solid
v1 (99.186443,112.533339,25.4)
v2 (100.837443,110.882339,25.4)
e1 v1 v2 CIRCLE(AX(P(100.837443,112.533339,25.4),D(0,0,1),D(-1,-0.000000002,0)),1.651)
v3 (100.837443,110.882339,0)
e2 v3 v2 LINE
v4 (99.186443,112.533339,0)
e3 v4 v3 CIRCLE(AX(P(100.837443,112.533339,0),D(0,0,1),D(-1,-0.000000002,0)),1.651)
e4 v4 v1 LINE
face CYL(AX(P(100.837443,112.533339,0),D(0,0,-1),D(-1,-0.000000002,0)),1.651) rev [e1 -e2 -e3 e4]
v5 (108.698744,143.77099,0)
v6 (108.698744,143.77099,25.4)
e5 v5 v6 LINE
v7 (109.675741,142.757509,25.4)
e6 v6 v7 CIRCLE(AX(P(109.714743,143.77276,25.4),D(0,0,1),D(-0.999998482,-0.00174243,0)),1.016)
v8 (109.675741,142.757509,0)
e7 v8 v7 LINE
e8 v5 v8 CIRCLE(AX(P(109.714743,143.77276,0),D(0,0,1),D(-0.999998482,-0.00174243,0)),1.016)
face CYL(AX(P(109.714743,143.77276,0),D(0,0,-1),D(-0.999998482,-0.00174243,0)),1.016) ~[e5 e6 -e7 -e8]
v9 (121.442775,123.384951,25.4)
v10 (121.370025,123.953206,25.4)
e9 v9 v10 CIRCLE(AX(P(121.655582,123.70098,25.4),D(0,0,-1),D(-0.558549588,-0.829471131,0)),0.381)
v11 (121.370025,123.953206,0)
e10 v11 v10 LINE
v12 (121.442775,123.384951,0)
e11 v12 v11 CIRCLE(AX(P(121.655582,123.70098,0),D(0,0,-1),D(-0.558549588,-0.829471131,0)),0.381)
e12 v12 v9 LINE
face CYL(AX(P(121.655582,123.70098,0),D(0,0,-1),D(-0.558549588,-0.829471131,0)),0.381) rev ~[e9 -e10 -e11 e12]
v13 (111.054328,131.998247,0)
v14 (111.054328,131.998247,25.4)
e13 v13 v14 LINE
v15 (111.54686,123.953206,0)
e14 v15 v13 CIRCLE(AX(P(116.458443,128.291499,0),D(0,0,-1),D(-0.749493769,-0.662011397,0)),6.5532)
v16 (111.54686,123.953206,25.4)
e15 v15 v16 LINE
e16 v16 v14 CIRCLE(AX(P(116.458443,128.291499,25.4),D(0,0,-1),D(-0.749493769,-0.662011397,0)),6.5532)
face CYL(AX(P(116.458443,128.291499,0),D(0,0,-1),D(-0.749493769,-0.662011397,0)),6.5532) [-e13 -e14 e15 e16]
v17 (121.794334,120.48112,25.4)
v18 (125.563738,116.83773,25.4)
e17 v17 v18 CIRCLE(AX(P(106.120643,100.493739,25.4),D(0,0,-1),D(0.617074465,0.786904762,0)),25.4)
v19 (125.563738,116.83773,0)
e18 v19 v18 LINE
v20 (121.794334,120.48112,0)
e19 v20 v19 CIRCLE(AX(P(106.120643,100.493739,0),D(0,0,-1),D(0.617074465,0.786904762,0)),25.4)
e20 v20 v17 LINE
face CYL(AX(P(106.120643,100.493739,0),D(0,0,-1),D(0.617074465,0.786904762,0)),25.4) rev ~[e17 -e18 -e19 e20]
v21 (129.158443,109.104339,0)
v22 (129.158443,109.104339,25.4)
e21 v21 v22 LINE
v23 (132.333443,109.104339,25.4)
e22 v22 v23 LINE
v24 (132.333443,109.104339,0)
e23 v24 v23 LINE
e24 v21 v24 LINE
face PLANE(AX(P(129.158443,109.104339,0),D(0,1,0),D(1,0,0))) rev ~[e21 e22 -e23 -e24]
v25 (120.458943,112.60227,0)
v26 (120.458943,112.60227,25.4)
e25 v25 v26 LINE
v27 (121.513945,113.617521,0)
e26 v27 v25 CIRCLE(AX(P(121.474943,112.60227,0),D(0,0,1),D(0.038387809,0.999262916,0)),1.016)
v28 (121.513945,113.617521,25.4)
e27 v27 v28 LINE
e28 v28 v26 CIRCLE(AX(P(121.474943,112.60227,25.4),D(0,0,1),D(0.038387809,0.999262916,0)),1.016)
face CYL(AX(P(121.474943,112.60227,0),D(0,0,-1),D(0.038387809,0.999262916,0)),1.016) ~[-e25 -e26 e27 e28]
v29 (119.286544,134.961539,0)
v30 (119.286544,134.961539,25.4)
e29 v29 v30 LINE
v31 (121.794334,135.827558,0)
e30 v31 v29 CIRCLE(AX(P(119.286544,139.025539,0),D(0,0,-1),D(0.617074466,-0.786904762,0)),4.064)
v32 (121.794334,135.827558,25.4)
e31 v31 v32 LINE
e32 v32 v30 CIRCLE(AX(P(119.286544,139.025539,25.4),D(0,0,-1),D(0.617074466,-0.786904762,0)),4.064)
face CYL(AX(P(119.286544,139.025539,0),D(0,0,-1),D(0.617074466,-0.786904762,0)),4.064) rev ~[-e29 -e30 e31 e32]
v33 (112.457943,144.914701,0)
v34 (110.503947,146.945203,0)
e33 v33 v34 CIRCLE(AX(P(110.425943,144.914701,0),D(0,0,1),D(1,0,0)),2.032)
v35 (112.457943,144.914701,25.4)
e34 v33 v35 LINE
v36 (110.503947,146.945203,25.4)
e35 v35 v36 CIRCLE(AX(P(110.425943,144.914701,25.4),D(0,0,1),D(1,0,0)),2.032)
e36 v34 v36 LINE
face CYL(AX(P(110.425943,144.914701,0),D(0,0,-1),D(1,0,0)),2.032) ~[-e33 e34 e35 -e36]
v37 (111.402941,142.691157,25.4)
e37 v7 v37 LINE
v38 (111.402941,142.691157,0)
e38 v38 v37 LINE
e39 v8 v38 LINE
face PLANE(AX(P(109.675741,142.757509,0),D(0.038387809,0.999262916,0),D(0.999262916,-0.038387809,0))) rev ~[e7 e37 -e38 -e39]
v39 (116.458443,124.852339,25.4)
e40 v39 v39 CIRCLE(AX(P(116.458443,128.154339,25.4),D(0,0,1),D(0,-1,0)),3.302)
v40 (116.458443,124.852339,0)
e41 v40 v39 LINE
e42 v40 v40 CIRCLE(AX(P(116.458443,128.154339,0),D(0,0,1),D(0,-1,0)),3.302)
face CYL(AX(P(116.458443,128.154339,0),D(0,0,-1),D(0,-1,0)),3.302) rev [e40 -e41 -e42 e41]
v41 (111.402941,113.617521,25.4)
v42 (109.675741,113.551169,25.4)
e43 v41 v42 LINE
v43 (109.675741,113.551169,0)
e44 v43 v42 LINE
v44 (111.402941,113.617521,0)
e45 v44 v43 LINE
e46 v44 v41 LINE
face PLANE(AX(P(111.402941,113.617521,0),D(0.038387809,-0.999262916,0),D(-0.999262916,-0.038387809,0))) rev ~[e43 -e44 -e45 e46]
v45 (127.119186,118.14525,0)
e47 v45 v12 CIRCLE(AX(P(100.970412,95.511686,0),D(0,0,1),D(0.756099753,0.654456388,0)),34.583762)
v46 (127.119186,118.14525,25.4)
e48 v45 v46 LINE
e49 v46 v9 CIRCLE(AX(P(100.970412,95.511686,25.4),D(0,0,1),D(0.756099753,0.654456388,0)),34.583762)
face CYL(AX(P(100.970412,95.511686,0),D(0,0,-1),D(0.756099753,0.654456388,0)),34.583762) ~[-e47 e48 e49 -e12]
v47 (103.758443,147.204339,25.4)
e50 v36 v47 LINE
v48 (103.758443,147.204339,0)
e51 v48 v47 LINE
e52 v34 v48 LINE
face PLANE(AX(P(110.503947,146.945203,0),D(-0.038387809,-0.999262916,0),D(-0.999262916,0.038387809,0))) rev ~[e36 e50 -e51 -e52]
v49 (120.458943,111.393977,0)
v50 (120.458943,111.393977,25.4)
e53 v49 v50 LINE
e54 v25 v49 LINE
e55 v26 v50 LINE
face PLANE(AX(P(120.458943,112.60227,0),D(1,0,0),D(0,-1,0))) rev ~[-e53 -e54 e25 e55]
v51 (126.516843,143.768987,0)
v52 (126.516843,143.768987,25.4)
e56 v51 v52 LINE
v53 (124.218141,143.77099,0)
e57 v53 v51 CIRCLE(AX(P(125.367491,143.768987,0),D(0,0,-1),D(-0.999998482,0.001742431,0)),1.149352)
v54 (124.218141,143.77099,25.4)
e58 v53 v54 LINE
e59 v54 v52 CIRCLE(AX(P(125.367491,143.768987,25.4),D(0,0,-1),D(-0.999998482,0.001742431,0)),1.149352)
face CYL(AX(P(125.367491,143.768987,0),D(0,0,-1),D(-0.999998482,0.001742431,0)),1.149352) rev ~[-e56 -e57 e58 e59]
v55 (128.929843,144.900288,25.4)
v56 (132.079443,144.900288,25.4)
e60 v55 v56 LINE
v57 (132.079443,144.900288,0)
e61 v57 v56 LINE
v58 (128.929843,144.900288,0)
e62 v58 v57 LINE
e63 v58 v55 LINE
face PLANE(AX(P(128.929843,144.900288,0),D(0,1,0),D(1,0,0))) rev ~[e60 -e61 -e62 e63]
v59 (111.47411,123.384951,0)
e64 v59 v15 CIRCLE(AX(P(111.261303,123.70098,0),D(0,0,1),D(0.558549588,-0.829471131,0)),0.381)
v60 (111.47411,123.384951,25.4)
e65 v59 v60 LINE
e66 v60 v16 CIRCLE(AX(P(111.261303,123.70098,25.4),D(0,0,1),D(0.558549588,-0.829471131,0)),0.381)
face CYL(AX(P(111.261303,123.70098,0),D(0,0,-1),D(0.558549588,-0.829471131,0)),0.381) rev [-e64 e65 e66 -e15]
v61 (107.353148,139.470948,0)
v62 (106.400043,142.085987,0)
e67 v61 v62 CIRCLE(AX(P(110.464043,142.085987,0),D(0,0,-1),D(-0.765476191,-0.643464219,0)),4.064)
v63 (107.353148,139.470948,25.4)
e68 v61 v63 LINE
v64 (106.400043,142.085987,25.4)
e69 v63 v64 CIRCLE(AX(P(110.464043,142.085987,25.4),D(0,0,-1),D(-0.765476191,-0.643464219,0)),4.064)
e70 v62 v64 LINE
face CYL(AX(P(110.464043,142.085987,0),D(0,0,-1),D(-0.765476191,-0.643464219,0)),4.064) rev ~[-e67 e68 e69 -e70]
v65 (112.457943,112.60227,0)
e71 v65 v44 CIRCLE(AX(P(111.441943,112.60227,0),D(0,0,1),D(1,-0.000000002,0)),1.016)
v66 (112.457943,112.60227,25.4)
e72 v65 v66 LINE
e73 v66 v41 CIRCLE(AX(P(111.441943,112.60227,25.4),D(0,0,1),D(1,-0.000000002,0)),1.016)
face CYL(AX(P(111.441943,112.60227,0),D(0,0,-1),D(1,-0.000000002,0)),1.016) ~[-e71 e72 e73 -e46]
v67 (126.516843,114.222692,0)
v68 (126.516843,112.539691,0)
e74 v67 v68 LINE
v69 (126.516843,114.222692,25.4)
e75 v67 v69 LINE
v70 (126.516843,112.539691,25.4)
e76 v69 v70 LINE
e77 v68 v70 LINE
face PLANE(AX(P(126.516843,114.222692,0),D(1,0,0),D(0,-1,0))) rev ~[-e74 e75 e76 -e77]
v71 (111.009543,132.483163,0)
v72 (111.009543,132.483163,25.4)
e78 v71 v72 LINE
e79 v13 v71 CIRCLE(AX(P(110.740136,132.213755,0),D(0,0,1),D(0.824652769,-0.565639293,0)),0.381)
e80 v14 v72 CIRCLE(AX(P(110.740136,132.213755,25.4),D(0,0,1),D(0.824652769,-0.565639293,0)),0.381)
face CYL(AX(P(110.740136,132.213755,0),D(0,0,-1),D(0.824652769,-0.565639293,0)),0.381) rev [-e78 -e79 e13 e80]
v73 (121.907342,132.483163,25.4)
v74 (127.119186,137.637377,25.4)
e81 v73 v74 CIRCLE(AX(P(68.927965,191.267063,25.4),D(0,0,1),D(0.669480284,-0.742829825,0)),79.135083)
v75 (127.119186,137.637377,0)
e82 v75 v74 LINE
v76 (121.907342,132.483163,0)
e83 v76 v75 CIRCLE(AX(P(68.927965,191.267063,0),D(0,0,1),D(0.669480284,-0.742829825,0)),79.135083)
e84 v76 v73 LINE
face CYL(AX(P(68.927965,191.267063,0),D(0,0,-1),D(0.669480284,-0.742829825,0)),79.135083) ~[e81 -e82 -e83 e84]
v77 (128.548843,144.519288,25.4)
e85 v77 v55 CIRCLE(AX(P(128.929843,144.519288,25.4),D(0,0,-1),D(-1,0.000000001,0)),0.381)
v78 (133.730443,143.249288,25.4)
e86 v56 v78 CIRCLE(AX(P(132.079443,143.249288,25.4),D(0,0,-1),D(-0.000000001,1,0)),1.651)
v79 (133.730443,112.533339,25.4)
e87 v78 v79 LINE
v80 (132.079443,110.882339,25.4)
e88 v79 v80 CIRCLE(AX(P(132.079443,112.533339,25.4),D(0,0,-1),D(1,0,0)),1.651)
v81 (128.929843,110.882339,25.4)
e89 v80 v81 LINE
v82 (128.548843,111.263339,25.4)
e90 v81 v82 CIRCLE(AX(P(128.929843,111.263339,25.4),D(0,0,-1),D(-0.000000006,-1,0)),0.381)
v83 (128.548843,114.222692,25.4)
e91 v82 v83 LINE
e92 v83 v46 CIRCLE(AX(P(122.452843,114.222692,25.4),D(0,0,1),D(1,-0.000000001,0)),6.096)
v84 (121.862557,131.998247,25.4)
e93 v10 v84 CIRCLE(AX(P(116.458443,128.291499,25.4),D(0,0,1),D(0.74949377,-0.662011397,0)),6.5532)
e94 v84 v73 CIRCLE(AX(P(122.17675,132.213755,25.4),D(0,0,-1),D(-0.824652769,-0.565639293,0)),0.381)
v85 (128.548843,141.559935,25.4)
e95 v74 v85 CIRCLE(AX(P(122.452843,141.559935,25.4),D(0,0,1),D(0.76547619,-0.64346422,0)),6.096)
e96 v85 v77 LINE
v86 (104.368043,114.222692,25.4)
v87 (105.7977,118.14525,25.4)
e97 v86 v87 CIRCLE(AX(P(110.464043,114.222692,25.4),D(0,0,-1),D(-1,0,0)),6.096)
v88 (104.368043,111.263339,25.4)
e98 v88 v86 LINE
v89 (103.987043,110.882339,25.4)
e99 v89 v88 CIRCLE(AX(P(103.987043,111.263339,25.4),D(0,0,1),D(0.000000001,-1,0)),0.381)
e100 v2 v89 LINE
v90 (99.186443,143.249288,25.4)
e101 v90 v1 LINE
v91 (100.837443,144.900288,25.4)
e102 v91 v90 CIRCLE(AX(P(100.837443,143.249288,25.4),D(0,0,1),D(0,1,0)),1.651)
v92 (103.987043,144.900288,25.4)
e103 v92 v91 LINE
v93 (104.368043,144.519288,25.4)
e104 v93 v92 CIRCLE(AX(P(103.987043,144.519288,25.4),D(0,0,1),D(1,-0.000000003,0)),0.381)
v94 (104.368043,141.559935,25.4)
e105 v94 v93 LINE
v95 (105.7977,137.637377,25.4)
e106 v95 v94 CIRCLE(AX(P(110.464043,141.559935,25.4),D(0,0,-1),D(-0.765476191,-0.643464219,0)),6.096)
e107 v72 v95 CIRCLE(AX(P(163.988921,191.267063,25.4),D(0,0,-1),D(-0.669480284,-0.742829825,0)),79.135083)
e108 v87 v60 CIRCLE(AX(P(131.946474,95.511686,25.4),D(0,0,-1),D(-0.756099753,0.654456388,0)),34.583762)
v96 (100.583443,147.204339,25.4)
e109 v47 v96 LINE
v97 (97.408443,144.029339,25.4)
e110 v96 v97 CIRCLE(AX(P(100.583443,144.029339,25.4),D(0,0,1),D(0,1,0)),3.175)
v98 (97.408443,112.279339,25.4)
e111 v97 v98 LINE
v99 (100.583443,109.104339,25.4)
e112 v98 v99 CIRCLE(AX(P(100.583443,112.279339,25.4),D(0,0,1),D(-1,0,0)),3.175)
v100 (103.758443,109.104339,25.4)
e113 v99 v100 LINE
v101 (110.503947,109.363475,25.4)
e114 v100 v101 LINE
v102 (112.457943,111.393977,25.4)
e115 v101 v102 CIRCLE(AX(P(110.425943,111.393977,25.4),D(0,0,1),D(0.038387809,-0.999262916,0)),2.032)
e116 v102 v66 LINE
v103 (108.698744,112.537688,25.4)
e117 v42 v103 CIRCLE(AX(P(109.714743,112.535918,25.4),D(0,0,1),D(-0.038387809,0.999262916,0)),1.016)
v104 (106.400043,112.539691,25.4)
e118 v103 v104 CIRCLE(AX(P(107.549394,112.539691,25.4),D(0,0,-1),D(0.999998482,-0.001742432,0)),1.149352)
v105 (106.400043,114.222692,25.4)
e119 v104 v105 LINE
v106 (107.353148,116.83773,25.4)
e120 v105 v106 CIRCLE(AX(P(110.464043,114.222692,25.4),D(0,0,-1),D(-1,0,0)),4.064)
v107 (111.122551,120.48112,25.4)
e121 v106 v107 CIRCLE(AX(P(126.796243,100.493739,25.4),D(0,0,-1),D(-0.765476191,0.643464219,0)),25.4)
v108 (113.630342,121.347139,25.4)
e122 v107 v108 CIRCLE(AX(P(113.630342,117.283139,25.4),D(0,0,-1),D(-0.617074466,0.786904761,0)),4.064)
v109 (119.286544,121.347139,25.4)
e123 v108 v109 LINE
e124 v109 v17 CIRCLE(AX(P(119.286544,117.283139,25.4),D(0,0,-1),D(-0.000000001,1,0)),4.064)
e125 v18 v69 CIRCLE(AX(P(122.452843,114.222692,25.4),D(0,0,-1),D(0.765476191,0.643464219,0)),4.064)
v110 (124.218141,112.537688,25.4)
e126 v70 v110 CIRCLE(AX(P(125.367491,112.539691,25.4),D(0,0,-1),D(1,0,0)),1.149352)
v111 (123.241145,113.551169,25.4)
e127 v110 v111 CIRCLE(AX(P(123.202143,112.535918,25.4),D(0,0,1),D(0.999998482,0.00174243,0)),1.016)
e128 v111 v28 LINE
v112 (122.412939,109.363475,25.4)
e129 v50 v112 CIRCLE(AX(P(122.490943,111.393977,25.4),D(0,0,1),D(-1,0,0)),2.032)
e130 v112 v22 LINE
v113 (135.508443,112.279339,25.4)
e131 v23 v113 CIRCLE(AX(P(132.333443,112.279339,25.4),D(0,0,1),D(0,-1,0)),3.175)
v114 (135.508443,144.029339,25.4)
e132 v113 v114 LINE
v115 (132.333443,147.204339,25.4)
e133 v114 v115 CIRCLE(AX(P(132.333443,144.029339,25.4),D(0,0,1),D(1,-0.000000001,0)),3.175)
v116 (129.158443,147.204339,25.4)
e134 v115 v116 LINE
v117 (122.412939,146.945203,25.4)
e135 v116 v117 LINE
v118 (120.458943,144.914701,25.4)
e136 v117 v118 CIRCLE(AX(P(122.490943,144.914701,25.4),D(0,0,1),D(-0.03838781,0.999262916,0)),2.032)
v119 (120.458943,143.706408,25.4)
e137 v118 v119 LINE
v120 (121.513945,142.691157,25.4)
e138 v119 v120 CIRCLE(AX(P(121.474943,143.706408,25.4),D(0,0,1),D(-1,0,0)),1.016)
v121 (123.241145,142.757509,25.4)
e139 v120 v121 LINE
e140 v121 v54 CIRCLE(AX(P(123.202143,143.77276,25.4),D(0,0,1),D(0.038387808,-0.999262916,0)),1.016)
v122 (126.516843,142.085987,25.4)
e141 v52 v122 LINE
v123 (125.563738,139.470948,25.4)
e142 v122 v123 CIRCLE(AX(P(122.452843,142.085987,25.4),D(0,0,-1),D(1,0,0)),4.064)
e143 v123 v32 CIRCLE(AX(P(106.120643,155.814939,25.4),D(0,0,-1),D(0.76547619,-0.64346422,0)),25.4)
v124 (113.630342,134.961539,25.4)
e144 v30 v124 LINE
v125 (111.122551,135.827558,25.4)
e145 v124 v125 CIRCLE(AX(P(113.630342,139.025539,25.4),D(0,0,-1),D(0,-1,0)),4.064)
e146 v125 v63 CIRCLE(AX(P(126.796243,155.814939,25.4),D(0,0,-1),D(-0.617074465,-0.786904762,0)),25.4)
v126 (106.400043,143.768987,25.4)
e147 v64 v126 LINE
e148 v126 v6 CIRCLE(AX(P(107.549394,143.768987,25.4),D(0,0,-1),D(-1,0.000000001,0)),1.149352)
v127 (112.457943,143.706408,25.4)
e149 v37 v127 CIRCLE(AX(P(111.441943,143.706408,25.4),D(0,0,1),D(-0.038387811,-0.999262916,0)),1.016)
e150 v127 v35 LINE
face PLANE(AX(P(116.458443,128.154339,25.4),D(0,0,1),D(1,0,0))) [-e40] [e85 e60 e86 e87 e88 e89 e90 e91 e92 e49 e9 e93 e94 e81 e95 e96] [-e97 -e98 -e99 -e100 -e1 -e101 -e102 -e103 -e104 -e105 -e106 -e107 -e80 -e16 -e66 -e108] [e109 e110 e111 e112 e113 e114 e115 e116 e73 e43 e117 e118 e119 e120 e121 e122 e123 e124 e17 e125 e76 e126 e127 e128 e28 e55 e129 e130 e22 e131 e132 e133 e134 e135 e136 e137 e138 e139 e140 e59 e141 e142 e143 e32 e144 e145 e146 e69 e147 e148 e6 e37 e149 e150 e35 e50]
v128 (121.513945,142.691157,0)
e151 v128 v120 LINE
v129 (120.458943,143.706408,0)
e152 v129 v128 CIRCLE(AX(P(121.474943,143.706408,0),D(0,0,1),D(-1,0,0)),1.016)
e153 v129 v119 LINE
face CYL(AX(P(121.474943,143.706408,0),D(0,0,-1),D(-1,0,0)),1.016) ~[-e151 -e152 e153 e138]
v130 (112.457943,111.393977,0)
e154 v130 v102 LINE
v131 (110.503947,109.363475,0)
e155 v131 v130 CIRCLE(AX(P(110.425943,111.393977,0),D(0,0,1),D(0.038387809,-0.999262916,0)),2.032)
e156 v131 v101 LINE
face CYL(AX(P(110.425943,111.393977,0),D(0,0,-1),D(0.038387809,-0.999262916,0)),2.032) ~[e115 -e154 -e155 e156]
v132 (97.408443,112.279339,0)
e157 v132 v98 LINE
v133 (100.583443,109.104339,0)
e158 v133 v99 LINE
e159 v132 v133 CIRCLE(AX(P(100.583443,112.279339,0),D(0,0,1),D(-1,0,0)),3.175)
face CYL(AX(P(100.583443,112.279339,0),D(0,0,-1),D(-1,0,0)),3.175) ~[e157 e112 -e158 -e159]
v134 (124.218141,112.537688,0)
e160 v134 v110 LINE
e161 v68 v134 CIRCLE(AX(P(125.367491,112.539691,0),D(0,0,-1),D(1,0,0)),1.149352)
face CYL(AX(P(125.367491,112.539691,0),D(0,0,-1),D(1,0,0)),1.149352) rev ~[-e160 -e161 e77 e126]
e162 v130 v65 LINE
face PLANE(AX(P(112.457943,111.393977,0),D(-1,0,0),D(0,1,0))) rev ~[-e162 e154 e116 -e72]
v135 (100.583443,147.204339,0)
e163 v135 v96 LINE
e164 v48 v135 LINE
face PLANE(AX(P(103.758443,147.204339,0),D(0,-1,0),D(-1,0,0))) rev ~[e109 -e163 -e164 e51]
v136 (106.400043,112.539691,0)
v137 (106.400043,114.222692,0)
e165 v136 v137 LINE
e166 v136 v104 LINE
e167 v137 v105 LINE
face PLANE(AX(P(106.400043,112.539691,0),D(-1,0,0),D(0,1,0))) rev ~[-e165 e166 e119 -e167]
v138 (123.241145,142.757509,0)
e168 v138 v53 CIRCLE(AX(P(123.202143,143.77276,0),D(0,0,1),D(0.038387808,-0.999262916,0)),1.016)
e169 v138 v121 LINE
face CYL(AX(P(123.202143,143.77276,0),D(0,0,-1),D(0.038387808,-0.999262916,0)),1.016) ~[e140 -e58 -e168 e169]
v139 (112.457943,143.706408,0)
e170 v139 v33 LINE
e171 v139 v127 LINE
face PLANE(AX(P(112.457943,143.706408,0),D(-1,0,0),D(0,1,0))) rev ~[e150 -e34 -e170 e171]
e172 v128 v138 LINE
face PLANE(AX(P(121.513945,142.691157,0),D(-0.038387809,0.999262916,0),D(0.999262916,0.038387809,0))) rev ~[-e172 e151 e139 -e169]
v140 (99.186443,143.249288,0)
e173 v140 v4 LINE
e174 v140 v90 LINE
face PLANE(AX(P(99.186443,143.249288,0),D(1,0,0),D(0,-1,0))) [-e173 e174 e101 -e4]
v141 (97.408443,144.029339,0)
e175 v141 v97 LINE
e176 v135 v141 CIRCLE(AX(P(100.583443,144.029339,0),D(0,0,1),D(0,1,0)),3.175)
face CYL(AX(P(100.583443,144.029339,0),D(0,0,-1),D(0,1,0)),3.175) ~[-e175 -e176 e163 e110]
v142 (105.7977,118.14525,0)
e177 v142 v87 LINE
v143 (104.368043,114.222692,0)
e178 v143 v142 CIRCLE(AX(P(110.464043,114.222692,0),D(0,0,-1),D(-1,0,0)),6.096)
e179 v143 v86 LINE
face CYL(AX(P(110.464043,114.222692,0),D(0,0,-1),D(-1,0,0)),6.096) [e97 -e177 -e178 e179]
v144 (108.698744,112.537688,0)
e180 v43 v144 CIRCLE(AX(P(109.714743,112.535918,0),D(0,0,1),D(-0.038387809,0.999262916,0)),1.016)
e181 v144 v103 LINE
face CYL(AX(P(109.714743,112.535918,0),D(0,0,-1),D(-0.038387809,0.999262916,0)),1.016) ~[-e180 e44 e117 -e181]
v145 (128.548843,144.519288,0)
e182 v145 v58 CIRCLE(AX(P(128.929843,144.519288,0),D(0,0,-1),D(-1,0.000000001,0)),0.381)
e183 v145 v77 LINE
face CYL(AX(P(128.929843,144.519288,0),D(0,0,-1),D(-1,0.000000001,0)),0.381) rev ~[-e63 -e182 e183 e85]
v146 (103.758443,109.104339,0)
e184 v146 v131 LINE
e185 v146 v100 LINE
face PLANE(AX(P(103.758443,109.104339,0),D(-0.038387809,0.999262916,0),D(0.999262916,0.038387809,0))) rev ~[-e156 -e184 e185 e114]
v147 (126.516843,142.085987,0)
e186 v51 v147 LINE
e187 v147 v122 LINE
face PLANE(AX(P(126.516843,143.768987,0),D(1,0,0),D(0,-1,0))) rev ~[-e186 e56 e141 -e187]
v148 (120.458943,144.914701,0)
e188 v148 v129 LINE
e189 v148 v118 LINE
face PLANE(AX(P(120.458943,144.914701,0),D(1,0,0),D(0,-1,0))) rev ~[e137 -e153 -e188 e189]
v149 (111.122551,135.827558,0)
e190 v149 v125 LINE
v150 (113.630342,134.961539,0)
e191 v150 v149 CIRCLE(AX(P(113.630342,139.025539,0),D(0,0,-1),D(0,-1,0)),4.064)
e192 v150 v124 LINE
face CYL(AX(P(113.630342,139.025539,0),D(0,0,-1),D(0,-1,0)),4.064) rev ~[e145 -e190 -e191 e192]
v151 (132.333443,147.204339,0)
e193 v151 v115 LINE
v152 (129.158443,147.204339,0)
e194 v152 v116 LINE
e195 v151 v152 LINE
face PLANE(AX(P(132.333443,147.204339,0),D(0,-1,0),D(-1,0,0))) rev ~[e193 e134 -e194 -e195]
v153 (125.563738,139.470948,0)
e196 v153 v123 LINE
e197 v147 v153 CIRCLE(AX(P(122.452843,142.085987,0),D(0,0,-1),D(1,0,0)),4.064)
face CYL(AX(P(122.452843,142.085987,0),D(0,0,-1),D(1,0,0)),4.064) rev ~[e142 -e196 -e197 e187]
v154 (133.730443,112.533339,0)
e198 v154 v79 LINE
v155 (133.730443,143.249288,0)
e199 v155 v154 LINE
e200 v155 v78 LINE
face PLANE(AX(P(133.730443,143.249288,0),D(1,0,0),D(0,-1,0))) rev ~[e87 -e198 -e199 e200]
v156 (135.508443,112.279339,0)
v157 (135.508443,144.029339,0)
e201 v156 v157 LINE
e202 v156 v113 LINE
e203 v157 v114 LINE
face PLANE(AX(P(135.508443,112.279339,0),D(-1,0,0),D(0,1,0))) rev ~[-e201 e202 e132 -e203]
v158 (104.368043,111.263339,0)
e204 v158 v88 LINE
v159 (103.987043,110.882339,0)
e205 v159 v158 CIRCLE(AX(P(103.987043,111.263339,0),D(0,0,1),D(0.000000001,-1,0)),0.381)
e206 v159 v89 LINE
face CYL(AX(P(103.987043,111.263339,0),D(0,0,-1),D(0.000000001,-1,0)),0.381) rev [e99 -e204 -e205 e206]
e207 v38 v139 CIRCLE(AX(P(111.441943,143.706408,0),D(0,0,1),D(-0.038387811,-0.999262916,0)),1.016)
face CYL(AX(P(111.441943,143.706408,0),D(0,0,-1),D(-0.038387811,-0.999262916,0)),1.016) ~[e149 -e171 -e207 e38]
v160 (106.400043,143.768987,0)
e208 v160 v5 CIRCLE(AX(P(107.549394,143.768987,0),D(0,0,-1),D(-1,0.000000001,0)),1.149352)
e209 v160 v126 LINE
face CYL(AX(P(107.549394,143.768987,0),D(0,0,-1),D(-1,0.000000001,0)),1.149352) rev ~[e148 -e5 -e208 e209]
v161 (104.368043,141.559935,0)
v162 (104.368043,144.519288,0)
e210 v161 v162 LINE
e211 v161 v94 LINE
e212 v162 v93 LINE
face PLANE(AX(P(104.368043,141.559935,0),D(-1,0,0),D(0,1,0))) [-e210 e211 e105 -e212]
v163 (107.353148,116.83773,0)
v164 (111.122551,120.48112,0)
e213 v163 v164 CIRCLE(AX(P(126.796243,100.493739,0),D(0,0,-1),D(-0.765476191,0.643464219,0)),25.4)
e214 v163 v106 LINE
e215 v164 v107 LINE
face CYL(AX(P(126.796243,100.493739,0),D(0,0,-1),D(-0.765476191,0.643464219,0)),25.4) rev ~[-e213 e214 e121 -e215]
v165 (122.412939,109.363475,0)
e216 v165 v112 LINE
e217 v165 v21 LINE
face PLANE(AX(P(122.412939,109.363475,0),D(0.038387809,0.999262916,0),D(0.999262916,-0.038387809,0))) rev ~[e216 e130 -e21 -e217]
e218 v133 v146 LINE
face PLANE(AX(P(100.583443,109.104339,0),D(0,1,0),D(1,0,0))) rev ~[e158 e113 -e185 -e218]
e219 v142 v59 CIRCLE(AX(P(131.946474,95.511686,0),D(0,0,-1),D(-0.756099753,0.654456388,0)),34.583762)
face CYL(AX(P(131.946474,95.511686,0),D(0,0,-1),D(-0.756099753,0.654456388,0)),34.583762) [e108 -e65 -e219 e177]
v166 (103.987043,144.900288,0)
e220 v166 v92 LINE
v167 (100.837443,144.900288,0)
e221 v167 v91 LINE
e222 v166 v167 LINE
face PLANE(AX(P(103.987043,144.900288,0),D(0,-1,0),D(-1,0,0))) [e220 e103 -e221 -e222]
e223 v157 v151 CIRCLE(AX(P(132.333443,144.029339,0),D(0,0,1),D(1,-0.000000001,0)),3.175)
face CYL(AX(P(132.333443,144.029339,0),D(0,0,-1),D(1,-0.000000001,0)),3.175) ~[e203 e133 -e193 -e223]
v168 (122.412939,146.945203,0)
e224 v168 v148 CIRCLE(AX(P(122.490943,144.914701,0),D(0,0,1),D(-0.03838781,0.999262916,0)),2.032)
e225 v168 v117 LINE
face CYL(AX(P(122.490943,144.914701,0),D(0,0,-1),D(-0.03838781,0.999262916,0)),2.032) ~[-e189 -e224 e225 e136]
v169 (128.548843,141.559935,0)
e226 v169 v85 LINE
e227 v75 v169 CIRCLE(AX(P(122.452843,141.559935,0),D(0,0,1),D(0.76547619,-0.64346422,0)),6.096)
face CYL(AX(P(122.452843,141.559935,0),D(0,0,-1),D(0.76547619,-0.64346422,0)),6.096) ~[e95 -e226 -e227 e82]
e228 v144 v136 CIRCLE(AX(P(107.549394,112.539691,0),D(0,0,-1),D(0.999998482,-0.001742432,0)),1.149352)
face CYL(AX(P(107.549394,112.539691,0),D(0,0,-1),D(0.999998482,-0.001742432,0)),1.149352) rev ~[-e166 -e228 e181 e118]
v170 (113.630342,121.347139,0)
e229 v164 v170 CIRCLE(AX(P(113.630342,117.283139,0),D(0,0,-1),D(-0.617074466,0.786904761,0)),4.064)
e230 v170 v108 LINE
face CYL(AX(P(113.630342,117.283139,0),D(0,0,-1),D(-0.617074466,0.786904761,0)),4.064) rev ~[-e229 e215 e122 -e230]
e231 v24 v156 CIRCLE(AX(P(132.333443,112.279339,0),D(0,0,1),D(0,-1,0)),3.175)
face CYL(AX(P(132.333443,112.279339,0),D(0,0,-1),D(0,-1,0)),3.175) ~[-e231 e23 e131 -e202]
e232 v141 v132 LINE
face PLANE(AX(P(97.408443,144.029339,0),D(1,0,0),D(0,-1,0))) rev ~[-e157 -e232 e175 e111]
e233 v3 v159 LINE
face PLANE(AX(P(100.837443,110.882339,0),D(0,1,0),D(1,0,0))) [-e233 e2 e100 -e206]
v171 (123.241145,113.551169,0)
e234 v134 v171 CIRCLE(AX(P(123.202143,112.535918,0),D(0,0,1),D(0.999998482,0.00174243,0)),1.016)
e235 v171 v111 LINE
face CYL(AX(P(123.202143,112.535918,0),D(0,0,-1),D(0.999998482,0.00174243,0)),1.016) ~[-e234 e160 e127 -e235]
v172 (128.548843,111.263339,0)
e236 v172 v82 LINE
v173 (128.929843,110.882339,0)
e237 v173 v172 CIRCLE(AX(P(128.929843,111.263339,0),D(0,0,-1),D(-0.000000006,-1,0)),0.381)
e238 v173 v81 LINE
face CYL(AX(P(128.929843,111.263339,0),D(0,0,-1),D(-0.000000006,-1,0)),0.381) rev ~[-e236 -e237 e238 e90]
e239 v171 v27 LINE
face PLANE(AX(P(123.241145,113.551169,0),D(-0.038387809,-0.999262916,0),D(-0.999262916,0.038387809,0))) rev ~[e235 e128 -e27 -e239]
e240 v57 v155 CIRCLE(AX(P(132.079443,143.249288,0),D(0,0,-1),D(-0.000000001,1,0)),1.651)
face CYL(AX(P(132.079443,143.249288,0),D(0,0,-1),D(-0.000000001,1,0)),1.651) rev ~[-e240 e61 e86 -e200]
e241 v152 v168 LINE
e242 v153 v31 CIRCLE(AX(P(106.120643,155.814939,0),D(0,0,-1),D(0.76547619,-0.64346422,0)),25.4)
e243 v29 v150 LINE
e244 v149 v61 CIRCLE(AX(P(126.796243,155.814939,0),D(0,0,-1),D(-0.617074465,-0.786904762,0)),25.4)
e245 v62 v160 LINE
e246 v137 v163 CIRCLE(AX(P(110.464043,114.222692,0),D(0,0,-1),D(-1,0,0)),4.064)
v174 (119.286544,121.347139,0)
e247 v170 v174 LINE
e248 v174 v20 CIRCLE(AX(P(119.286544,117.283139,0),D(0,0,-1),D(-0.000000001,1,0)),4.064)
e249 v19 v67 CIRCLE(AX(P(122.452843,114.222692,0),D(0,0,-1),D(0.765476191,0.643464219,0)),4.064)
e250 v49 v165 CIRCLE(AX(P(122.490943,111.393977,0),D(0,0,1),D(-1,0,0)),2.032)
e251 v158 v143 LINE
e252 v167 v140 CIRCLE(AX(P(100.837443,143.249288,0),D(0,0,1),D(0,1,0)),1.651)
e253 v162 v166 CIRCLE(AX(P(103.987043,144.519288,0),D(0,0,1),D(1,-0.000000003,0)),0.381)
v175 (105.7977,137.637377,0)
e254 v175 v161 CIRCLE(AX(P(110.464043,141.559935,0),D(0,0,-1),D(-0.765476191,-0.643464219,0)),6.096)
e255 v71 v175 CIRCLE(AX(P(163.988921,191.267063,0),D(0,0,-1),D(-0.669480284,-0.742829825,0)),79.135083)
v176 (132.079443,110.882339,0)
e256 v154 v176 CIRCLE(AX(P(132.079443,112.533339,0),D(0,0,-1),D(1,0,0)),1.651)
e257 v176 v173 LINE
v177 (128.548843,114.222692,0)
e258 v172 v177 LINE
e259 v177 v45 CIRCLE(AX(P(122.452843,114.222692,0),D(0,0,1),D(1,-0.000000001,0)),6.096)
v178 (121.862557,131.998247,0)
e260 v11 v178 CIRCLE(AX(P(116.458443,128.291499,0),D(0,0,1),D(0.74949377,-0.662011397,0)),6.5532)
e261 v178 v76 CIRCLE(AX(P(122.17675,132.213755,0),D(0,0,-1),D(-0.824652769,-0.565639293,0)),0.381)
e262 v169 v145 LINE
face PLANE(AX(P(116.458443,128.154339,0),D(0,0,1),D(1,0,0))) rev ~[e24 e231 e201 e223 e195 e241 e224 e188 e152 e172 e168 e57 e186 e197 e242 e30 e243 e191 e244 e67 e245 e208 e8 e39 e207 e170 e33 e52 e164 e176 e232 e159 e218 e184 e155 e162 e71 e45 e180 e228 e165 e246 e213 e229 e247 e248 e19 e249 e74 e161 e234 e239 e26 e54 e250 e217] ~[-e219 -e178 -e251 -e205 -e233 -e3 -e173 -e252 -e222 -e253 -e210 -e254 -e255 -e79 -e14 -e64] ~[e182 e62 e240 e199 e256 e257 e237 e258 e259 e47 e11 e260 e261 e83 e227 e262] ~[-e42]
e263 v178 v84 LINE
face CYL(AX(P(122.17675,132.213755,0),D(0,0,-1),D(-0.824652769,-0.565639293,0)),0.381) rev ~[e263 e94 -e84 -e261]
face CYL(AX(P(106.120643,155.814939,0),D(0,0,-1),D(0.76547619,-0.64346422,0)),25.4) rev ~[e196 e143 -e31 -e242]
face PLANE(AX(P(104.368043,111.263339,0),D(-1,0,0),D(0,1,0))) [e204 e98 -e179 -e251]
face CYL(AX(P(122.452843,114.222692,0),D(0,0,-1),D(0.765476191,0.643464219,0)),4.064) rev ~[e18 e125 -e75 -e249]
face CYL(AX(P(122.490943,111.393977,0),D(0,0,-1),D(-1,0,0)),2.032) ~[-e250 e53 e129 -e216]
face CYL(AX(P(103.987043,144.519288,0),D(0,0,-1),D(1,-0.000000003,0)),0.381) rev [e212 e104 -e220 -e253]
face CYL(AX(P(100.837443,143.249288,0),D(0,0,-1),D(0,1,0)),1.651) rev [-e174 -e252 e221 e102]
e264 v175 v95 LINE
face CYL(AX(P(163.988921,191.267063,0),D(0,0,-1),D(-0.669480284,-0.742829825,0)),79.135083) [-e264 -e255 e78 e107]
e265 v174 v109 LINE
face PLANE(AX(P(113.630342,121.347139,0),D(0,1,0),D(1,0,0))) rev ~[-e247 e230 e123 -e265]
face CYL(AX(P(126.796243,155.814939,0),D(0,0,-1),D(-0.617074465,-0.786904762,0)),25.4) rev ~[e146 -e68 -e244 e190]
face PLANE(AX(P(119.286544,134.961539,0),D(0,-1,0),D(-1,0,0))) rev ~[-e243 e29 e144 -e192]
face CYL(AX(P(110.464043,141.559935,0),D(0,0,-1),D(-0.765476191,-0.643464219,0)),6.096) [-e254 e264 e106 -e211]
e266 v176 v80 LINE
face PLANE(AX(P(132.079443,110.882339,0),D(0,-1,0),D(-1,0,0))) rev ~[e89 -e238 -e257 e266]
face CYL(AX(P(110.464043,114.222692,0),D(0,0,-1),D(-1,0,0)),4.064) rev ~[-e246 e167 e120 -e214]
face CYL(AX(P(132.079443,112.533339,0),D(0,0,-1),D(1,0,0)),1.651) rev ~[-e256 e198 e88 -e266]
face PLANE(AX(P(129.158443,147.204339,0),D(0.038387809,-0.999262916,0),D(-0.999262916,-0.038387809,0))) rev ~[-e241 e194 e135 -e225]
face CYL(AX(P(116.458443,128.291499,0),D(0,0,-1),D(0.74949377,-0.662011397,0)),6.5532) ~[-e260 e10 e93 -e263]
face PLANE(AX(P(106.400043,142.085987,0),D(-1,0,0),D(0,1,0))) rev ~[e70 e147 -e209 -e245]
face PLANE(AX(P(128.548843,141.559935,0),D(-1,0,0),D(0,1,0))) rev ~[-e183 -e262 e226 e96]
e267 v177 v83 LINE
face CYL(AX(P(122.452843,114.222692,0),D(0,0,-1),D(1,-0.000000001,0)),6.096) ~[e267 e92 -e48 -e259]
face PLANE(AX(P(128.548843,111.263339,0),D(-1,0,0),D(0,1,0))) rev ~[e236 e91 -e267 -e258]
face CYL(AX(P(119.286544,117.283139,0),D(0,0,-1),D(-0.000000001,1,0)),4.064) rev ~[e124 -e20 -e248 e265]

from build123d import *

# Parameters (mm, degrees)
EXTRUDE1_DEPTH = 25.4


with BuildPart() as part:
    # Sketch1 → Extrude1 (new body)
    with BuildSketch(Plane.XY):
        with BuildLine():
            Line((119.286543537, 134.961539124), (116.458442746, 134.961539124))
            Line((116.458442746, 134.961539124), (113.630341955, 134.961539124))
            ThreePointArc((113.630341955, 134.961539124), (112.303785999, 135.184140252), (111.122551329, 135.827558172))
            ThreePointArc((111.122551329, 135.827558172), (109.143601343, 137.551745223), (107.353147508, 139.470947948))
            ThreePointArc((107.353147508, 139.470947948), (106.645746382, 140.694329655), (106.400042746, 142.085986537))
            Line((106.400042746, 142.085986537), (106.400042746, 143.768987481))
            ThreePointArc((106.400042746, 143.768987481), (107.548393057, 144.918338688), (108.698744289, 143.770990147))
            ThreePointArc((108.698744289, 143.770990147), (108.983276863, 143.067626667), (109.675740732, 142.757509334))
            Line((109.675740732, 142.757509334), (111.402940732, 142.691157003))
            ThreePointArc((111.402940732, 142.691157003), (112.146439004, 142.974328196), (112.457942746, 143.706408126))
            Line((112.457942746, 143.706408126), (112.457942746, 144.914700752))
            ThreePointArc((112.457942746, 144.914700752), (111.890102605, 146.323693267), (110.503946774, 146.945202999))
            Line((110.503946774, 146.945202999), (103.758442746, 147.204339124))
            Line((103.758442746, 147.204339124), (100.583442746, 147.204339124))
            ThreePointArc((100.583442746, 147.204339124), (98.338378716, 146.274403155), (97.408442746, 144.029339124))
            Line((97.408442746, 144.029339124), (97.408442746, 112.279339124))
            ThreePointArc((97.408442746, 112.279339124), (98.338378716, 110.034275094), (100.583442746, 109.104339124))
            Line((100.583442746, 109.104339124), (103.758442746, 109.104339124))
            Line((103.758442746, 109.104339124), (110.503946774, 109.36347525))
            ThreePointArc((110.503946774, 109.36347525), (111.890102605, 109.984984981), (112.457942746, 111.393977496))
            Line((112.457942746, 111.393977496), (112.457942746, 112.602270123))
            ThreePointArc((112.457942746, 112.602270123), (112.146439004, 113.334350053), (111.402940732, 113.617521246))
            Line((111.402940732, 113.617521246), (109.675740732, 113.551168915))
            ThreePointArc((109.675740732, 113.551168915), (108.983276863, 113.241051582), (108.698744289, 112.537688102))
            ThreePointArc((108.698744289, 112.537688102), (107.548393057, 111.390339561), (106.400042746, 112.539690768))
            Line((106.400042746, 112.539690768), (106.400042746, 114.222691712))
            ThreePointArc((106.400042746, 114.222691712), (106.645746382, 115.614348594), (107.353147508, 116.8377303))
            ThreePointArc((107.353147508, 116.8377303), (109.143601343, 118.756933026), (111.122551329, 120.481120077))
            ThreePointArc((111.122551329, 120.481120077), (112.303785999, 121.124537997), (113.630341955, 121.347139124))
            Line((113.630341955, 121.347139124), (116.458442746, 121.347139124))
            Line((116.458442746, 121.347139124), (119.286543537, 121.347139124))
            ThreePointArc((119.286543537, 121.347139124), (120.613099494, 121.124537997), (121.794334164, 120.481120077))
            ThreePointArc((121.794334164, 120.481120077), (123.77328415, 118.756933026), (125.563737985, 116.8377303))
            ThreePointArc((125.563737985, 116.8377303), (126.27113911, 115.614348594), (126.516842746, 114.222691712))
            Line((126.516842746, 114.222691712), (126.516842746, 112.539690768))
            ThreePointArc((126.516842746, 112.539690768), (125.368492436, 111.390339561), (124.218141204, 112.537688102))
            ThreePointArc((124.218141204, 112.537688102), (123.93360863, 113.241051582), (123.24114476, 113.551168915))
            Line((123.24114476, 113.551168915), (121.51394476, 113.617521246))
            ThreePointArc((121.51394476, 113.617521246), (120.770446489, 113.334350053), (120.458942746, 112.602270123))
            Line((120.458942746, 112.602270123), (120.458942746, 111.393977496))
            ThreePointArc((120.458942746, 111.393977496), (121.026782887, 109.984984981), (122.412938718, 109.36347525))
            Line((122.412938718, 109.36347525), (129.158442746, 109.104339124))
            Line((129.158442746, 109.104339124), (132.333442746, 109.104339124))
            ThreePointArc((132.333442746, 109.104339124), (134.578506777, 110.034275094), (135.508442746, 112.279339124))
            Line((135.508442746, 112.279339124), (135.508442746, 144.029339124))
            ThreePointArc((135.508442746, 144.029339124), (134.578506777, 146.274403155), (132.333442746, 147.204339124))
            Line((132.333442746, 147.204339124), (129.158442746, 147.204339124))
            Line((129.158442746, 147.204339124), (122.412938718, 146.945202999))
            ThreePointArc((122.412938718, 146.945202999), (121.026782887, 146.323693267), (120.458942746, 144.914700752))
            Line((120.458942746, 144.914700752), (120.458942746, 143.706408126))
            ThreePointArc((120.458942746, 143.706408126), (120.770446489, 142.974328196), (121.51394476, 142.691157003))
            Line((121.51394476, 142.691157003), (123.24114476, 142.757509334))
            ThreePointArc((123.24114476, 142.757509334), (123.93360863, 143.067626667), (124.218141204, 143.770990147))
            ThreePointArc((124.218141204, 143.770990147), (125.368492436, 144.918338688), (126.516842746, 143.768987481))
            Line((126.516842746, 143.768987481), (126.516842746, 142.085986537))
            ThreePointArc((126.516842746, 142.085986537), (126.27113911, 140.694329655), (125.563737985, 139.470947948))
            ThreePointArc((125.563737985, 139.470947948), (123.77328415, 137.551745223), (121.794334164, 135.827558172))
            ThreePointArc((121.794334164, 135.827558172), (120.613099494, 135.184140252), (119.286543537, 134.961539124))
        make_face()
        with BuildLine():
            Line((128.548842746, 141.559935312), (128.548842746, 144.5192879))
            ThreePointArc((128.548842746, 144.5192879), (128.660435063, 144.788695584), (128.929842746, 144.9002879))
            Line((128.929842746, 144.9002879), (132.079442746, 144.9002879))
            ThreePointArc((132.079442746, 144.9002879), (133.246876042, 144.416721196), (133.730442746, 143.2492879))
            Line((133.730442746, 143.2492879), (133.730442746, 112.533339124))
            ThreePointArc((133.730442746, 112.533339124), (133.246876042, 111.365905829), (132.079442746, 110.882339124))
            Line((132.079442746, 110.882339124), (128.929842746, 110.882339124))
            ThreePointArc((128.929842746, 110.882339124), (128.660435063, 110.993931441), (128.548842746, 111.263339124))
            Line((128.548842746, 111.263339124), (128.548842746, 114.222691712))
            ThreePointArc((128.548842746, 114.222691712), (128.180287293, 116.310177035), (127.119185604, 118.145249594))
            ThreePointArc((127.119185604, 118.145249594), (124.427739509, 120.92409139), (121.44277505, 123.384951196))
            ThreePointArc((121.44277505, 123.384951196), (121.277666857, 123.652597781), (121.370025317, 123.953206039))
            ThreePointArc((121.370025317, 123.953206039), (122.999396104, 127.891050115), (121.862557266, 131.998246553))
            ThreePointArc((121.862557266, 131.998246553), (121.797364551, 132.248793719), (121.907342287, 132.483162808))
            ThreePointArc((121.907342287, 132.483162808), (124.57297323, 134.999893232), (127.119185604, 137.63737743))
            ThreePointArc((127.119185604, 137.63737743), (128.180287293, 139.47244999), (128.548842746, 141.559935312))
        make_face(mode=Mode.SUBTRACT)
        with BuildLine():
            Line((104.368042746, 141.559935312), (104.368042746, 144.5192879))
            ThreePointArc((104.368042746, 144.5192879), (104.25645043, 144.788695584), (103.987042746, 144.9002879))
            Line((103.987042746, 144.9002879), (100.837442746, 144.9002879))
            ThreePointArc((100.837442746, 144.9002879), (99.670009451, 144.416721196), (99.186442746, 143.2492879))
            Line((99.186442746, 143.2492879), (99.186442746, 112.533339124))
            ThreePointArc((99.186442746, 112.533339124), (99.670009451, 111.365905829), (100.837442746, 110.882339124))
            Line((100.837442746, 110.882339124), (103.987042746, 110.882339124))
            ThreePointArc((103.987042746, 110.882339124), (104.25645043, 110.993931441), (104.368042746, 111.263339124))
            Line((104.368042746, 111.263339124), (104.368042746, 114.222691712))
            ThreePointArc((104.368042746, 114.222691712), (104.7365982, 116.310177035), (105.797699889, 118.145249594))
            ThreePointArc((105.797699889, 118.145249594), (108.489145984, 120.92409139), (111.474110443, 123.384951196))
            ThreePointArc((111.474110443, 123.384951196), (111.639218636, 123.652597781), (111.546860176, 123.953206039))
            ThreePointArc((111.546860176, 123.953206039), (109.917489388, 127.891050115), (111.054328227, 131.998246553))
            ThreePointArc((111.054328227, 131.998246553), (111.119520942, 132.248793719), (111.009543206, 132.483162808))
            ThreePointArc((111.009543206, 132.483162808), (108.343912263, 134.999893232), (105.797699889, 137.63737743))
            ThreePointArc((105.797699889, 137.63737743), (104.7365982, 139.47244999), (104.368042746, 141.559935312))
        make_face(mode=Mode.SUBTRACT)
        with BuildLine():
            ThreePointArc((116.458442746, 131.456339124), (113.156442746, 128.154339124), (116.458442746, 124.852339124))
            ThreePointArc((116.458442746, 124.852339124), (119.760442746, 128.154339124), (116.458442746, 131.456339124))
        make_face(mode=Mode.SUBTRACT)
    extrude(amount=EXTRUDE1_DEPTH)


solid = part.part
